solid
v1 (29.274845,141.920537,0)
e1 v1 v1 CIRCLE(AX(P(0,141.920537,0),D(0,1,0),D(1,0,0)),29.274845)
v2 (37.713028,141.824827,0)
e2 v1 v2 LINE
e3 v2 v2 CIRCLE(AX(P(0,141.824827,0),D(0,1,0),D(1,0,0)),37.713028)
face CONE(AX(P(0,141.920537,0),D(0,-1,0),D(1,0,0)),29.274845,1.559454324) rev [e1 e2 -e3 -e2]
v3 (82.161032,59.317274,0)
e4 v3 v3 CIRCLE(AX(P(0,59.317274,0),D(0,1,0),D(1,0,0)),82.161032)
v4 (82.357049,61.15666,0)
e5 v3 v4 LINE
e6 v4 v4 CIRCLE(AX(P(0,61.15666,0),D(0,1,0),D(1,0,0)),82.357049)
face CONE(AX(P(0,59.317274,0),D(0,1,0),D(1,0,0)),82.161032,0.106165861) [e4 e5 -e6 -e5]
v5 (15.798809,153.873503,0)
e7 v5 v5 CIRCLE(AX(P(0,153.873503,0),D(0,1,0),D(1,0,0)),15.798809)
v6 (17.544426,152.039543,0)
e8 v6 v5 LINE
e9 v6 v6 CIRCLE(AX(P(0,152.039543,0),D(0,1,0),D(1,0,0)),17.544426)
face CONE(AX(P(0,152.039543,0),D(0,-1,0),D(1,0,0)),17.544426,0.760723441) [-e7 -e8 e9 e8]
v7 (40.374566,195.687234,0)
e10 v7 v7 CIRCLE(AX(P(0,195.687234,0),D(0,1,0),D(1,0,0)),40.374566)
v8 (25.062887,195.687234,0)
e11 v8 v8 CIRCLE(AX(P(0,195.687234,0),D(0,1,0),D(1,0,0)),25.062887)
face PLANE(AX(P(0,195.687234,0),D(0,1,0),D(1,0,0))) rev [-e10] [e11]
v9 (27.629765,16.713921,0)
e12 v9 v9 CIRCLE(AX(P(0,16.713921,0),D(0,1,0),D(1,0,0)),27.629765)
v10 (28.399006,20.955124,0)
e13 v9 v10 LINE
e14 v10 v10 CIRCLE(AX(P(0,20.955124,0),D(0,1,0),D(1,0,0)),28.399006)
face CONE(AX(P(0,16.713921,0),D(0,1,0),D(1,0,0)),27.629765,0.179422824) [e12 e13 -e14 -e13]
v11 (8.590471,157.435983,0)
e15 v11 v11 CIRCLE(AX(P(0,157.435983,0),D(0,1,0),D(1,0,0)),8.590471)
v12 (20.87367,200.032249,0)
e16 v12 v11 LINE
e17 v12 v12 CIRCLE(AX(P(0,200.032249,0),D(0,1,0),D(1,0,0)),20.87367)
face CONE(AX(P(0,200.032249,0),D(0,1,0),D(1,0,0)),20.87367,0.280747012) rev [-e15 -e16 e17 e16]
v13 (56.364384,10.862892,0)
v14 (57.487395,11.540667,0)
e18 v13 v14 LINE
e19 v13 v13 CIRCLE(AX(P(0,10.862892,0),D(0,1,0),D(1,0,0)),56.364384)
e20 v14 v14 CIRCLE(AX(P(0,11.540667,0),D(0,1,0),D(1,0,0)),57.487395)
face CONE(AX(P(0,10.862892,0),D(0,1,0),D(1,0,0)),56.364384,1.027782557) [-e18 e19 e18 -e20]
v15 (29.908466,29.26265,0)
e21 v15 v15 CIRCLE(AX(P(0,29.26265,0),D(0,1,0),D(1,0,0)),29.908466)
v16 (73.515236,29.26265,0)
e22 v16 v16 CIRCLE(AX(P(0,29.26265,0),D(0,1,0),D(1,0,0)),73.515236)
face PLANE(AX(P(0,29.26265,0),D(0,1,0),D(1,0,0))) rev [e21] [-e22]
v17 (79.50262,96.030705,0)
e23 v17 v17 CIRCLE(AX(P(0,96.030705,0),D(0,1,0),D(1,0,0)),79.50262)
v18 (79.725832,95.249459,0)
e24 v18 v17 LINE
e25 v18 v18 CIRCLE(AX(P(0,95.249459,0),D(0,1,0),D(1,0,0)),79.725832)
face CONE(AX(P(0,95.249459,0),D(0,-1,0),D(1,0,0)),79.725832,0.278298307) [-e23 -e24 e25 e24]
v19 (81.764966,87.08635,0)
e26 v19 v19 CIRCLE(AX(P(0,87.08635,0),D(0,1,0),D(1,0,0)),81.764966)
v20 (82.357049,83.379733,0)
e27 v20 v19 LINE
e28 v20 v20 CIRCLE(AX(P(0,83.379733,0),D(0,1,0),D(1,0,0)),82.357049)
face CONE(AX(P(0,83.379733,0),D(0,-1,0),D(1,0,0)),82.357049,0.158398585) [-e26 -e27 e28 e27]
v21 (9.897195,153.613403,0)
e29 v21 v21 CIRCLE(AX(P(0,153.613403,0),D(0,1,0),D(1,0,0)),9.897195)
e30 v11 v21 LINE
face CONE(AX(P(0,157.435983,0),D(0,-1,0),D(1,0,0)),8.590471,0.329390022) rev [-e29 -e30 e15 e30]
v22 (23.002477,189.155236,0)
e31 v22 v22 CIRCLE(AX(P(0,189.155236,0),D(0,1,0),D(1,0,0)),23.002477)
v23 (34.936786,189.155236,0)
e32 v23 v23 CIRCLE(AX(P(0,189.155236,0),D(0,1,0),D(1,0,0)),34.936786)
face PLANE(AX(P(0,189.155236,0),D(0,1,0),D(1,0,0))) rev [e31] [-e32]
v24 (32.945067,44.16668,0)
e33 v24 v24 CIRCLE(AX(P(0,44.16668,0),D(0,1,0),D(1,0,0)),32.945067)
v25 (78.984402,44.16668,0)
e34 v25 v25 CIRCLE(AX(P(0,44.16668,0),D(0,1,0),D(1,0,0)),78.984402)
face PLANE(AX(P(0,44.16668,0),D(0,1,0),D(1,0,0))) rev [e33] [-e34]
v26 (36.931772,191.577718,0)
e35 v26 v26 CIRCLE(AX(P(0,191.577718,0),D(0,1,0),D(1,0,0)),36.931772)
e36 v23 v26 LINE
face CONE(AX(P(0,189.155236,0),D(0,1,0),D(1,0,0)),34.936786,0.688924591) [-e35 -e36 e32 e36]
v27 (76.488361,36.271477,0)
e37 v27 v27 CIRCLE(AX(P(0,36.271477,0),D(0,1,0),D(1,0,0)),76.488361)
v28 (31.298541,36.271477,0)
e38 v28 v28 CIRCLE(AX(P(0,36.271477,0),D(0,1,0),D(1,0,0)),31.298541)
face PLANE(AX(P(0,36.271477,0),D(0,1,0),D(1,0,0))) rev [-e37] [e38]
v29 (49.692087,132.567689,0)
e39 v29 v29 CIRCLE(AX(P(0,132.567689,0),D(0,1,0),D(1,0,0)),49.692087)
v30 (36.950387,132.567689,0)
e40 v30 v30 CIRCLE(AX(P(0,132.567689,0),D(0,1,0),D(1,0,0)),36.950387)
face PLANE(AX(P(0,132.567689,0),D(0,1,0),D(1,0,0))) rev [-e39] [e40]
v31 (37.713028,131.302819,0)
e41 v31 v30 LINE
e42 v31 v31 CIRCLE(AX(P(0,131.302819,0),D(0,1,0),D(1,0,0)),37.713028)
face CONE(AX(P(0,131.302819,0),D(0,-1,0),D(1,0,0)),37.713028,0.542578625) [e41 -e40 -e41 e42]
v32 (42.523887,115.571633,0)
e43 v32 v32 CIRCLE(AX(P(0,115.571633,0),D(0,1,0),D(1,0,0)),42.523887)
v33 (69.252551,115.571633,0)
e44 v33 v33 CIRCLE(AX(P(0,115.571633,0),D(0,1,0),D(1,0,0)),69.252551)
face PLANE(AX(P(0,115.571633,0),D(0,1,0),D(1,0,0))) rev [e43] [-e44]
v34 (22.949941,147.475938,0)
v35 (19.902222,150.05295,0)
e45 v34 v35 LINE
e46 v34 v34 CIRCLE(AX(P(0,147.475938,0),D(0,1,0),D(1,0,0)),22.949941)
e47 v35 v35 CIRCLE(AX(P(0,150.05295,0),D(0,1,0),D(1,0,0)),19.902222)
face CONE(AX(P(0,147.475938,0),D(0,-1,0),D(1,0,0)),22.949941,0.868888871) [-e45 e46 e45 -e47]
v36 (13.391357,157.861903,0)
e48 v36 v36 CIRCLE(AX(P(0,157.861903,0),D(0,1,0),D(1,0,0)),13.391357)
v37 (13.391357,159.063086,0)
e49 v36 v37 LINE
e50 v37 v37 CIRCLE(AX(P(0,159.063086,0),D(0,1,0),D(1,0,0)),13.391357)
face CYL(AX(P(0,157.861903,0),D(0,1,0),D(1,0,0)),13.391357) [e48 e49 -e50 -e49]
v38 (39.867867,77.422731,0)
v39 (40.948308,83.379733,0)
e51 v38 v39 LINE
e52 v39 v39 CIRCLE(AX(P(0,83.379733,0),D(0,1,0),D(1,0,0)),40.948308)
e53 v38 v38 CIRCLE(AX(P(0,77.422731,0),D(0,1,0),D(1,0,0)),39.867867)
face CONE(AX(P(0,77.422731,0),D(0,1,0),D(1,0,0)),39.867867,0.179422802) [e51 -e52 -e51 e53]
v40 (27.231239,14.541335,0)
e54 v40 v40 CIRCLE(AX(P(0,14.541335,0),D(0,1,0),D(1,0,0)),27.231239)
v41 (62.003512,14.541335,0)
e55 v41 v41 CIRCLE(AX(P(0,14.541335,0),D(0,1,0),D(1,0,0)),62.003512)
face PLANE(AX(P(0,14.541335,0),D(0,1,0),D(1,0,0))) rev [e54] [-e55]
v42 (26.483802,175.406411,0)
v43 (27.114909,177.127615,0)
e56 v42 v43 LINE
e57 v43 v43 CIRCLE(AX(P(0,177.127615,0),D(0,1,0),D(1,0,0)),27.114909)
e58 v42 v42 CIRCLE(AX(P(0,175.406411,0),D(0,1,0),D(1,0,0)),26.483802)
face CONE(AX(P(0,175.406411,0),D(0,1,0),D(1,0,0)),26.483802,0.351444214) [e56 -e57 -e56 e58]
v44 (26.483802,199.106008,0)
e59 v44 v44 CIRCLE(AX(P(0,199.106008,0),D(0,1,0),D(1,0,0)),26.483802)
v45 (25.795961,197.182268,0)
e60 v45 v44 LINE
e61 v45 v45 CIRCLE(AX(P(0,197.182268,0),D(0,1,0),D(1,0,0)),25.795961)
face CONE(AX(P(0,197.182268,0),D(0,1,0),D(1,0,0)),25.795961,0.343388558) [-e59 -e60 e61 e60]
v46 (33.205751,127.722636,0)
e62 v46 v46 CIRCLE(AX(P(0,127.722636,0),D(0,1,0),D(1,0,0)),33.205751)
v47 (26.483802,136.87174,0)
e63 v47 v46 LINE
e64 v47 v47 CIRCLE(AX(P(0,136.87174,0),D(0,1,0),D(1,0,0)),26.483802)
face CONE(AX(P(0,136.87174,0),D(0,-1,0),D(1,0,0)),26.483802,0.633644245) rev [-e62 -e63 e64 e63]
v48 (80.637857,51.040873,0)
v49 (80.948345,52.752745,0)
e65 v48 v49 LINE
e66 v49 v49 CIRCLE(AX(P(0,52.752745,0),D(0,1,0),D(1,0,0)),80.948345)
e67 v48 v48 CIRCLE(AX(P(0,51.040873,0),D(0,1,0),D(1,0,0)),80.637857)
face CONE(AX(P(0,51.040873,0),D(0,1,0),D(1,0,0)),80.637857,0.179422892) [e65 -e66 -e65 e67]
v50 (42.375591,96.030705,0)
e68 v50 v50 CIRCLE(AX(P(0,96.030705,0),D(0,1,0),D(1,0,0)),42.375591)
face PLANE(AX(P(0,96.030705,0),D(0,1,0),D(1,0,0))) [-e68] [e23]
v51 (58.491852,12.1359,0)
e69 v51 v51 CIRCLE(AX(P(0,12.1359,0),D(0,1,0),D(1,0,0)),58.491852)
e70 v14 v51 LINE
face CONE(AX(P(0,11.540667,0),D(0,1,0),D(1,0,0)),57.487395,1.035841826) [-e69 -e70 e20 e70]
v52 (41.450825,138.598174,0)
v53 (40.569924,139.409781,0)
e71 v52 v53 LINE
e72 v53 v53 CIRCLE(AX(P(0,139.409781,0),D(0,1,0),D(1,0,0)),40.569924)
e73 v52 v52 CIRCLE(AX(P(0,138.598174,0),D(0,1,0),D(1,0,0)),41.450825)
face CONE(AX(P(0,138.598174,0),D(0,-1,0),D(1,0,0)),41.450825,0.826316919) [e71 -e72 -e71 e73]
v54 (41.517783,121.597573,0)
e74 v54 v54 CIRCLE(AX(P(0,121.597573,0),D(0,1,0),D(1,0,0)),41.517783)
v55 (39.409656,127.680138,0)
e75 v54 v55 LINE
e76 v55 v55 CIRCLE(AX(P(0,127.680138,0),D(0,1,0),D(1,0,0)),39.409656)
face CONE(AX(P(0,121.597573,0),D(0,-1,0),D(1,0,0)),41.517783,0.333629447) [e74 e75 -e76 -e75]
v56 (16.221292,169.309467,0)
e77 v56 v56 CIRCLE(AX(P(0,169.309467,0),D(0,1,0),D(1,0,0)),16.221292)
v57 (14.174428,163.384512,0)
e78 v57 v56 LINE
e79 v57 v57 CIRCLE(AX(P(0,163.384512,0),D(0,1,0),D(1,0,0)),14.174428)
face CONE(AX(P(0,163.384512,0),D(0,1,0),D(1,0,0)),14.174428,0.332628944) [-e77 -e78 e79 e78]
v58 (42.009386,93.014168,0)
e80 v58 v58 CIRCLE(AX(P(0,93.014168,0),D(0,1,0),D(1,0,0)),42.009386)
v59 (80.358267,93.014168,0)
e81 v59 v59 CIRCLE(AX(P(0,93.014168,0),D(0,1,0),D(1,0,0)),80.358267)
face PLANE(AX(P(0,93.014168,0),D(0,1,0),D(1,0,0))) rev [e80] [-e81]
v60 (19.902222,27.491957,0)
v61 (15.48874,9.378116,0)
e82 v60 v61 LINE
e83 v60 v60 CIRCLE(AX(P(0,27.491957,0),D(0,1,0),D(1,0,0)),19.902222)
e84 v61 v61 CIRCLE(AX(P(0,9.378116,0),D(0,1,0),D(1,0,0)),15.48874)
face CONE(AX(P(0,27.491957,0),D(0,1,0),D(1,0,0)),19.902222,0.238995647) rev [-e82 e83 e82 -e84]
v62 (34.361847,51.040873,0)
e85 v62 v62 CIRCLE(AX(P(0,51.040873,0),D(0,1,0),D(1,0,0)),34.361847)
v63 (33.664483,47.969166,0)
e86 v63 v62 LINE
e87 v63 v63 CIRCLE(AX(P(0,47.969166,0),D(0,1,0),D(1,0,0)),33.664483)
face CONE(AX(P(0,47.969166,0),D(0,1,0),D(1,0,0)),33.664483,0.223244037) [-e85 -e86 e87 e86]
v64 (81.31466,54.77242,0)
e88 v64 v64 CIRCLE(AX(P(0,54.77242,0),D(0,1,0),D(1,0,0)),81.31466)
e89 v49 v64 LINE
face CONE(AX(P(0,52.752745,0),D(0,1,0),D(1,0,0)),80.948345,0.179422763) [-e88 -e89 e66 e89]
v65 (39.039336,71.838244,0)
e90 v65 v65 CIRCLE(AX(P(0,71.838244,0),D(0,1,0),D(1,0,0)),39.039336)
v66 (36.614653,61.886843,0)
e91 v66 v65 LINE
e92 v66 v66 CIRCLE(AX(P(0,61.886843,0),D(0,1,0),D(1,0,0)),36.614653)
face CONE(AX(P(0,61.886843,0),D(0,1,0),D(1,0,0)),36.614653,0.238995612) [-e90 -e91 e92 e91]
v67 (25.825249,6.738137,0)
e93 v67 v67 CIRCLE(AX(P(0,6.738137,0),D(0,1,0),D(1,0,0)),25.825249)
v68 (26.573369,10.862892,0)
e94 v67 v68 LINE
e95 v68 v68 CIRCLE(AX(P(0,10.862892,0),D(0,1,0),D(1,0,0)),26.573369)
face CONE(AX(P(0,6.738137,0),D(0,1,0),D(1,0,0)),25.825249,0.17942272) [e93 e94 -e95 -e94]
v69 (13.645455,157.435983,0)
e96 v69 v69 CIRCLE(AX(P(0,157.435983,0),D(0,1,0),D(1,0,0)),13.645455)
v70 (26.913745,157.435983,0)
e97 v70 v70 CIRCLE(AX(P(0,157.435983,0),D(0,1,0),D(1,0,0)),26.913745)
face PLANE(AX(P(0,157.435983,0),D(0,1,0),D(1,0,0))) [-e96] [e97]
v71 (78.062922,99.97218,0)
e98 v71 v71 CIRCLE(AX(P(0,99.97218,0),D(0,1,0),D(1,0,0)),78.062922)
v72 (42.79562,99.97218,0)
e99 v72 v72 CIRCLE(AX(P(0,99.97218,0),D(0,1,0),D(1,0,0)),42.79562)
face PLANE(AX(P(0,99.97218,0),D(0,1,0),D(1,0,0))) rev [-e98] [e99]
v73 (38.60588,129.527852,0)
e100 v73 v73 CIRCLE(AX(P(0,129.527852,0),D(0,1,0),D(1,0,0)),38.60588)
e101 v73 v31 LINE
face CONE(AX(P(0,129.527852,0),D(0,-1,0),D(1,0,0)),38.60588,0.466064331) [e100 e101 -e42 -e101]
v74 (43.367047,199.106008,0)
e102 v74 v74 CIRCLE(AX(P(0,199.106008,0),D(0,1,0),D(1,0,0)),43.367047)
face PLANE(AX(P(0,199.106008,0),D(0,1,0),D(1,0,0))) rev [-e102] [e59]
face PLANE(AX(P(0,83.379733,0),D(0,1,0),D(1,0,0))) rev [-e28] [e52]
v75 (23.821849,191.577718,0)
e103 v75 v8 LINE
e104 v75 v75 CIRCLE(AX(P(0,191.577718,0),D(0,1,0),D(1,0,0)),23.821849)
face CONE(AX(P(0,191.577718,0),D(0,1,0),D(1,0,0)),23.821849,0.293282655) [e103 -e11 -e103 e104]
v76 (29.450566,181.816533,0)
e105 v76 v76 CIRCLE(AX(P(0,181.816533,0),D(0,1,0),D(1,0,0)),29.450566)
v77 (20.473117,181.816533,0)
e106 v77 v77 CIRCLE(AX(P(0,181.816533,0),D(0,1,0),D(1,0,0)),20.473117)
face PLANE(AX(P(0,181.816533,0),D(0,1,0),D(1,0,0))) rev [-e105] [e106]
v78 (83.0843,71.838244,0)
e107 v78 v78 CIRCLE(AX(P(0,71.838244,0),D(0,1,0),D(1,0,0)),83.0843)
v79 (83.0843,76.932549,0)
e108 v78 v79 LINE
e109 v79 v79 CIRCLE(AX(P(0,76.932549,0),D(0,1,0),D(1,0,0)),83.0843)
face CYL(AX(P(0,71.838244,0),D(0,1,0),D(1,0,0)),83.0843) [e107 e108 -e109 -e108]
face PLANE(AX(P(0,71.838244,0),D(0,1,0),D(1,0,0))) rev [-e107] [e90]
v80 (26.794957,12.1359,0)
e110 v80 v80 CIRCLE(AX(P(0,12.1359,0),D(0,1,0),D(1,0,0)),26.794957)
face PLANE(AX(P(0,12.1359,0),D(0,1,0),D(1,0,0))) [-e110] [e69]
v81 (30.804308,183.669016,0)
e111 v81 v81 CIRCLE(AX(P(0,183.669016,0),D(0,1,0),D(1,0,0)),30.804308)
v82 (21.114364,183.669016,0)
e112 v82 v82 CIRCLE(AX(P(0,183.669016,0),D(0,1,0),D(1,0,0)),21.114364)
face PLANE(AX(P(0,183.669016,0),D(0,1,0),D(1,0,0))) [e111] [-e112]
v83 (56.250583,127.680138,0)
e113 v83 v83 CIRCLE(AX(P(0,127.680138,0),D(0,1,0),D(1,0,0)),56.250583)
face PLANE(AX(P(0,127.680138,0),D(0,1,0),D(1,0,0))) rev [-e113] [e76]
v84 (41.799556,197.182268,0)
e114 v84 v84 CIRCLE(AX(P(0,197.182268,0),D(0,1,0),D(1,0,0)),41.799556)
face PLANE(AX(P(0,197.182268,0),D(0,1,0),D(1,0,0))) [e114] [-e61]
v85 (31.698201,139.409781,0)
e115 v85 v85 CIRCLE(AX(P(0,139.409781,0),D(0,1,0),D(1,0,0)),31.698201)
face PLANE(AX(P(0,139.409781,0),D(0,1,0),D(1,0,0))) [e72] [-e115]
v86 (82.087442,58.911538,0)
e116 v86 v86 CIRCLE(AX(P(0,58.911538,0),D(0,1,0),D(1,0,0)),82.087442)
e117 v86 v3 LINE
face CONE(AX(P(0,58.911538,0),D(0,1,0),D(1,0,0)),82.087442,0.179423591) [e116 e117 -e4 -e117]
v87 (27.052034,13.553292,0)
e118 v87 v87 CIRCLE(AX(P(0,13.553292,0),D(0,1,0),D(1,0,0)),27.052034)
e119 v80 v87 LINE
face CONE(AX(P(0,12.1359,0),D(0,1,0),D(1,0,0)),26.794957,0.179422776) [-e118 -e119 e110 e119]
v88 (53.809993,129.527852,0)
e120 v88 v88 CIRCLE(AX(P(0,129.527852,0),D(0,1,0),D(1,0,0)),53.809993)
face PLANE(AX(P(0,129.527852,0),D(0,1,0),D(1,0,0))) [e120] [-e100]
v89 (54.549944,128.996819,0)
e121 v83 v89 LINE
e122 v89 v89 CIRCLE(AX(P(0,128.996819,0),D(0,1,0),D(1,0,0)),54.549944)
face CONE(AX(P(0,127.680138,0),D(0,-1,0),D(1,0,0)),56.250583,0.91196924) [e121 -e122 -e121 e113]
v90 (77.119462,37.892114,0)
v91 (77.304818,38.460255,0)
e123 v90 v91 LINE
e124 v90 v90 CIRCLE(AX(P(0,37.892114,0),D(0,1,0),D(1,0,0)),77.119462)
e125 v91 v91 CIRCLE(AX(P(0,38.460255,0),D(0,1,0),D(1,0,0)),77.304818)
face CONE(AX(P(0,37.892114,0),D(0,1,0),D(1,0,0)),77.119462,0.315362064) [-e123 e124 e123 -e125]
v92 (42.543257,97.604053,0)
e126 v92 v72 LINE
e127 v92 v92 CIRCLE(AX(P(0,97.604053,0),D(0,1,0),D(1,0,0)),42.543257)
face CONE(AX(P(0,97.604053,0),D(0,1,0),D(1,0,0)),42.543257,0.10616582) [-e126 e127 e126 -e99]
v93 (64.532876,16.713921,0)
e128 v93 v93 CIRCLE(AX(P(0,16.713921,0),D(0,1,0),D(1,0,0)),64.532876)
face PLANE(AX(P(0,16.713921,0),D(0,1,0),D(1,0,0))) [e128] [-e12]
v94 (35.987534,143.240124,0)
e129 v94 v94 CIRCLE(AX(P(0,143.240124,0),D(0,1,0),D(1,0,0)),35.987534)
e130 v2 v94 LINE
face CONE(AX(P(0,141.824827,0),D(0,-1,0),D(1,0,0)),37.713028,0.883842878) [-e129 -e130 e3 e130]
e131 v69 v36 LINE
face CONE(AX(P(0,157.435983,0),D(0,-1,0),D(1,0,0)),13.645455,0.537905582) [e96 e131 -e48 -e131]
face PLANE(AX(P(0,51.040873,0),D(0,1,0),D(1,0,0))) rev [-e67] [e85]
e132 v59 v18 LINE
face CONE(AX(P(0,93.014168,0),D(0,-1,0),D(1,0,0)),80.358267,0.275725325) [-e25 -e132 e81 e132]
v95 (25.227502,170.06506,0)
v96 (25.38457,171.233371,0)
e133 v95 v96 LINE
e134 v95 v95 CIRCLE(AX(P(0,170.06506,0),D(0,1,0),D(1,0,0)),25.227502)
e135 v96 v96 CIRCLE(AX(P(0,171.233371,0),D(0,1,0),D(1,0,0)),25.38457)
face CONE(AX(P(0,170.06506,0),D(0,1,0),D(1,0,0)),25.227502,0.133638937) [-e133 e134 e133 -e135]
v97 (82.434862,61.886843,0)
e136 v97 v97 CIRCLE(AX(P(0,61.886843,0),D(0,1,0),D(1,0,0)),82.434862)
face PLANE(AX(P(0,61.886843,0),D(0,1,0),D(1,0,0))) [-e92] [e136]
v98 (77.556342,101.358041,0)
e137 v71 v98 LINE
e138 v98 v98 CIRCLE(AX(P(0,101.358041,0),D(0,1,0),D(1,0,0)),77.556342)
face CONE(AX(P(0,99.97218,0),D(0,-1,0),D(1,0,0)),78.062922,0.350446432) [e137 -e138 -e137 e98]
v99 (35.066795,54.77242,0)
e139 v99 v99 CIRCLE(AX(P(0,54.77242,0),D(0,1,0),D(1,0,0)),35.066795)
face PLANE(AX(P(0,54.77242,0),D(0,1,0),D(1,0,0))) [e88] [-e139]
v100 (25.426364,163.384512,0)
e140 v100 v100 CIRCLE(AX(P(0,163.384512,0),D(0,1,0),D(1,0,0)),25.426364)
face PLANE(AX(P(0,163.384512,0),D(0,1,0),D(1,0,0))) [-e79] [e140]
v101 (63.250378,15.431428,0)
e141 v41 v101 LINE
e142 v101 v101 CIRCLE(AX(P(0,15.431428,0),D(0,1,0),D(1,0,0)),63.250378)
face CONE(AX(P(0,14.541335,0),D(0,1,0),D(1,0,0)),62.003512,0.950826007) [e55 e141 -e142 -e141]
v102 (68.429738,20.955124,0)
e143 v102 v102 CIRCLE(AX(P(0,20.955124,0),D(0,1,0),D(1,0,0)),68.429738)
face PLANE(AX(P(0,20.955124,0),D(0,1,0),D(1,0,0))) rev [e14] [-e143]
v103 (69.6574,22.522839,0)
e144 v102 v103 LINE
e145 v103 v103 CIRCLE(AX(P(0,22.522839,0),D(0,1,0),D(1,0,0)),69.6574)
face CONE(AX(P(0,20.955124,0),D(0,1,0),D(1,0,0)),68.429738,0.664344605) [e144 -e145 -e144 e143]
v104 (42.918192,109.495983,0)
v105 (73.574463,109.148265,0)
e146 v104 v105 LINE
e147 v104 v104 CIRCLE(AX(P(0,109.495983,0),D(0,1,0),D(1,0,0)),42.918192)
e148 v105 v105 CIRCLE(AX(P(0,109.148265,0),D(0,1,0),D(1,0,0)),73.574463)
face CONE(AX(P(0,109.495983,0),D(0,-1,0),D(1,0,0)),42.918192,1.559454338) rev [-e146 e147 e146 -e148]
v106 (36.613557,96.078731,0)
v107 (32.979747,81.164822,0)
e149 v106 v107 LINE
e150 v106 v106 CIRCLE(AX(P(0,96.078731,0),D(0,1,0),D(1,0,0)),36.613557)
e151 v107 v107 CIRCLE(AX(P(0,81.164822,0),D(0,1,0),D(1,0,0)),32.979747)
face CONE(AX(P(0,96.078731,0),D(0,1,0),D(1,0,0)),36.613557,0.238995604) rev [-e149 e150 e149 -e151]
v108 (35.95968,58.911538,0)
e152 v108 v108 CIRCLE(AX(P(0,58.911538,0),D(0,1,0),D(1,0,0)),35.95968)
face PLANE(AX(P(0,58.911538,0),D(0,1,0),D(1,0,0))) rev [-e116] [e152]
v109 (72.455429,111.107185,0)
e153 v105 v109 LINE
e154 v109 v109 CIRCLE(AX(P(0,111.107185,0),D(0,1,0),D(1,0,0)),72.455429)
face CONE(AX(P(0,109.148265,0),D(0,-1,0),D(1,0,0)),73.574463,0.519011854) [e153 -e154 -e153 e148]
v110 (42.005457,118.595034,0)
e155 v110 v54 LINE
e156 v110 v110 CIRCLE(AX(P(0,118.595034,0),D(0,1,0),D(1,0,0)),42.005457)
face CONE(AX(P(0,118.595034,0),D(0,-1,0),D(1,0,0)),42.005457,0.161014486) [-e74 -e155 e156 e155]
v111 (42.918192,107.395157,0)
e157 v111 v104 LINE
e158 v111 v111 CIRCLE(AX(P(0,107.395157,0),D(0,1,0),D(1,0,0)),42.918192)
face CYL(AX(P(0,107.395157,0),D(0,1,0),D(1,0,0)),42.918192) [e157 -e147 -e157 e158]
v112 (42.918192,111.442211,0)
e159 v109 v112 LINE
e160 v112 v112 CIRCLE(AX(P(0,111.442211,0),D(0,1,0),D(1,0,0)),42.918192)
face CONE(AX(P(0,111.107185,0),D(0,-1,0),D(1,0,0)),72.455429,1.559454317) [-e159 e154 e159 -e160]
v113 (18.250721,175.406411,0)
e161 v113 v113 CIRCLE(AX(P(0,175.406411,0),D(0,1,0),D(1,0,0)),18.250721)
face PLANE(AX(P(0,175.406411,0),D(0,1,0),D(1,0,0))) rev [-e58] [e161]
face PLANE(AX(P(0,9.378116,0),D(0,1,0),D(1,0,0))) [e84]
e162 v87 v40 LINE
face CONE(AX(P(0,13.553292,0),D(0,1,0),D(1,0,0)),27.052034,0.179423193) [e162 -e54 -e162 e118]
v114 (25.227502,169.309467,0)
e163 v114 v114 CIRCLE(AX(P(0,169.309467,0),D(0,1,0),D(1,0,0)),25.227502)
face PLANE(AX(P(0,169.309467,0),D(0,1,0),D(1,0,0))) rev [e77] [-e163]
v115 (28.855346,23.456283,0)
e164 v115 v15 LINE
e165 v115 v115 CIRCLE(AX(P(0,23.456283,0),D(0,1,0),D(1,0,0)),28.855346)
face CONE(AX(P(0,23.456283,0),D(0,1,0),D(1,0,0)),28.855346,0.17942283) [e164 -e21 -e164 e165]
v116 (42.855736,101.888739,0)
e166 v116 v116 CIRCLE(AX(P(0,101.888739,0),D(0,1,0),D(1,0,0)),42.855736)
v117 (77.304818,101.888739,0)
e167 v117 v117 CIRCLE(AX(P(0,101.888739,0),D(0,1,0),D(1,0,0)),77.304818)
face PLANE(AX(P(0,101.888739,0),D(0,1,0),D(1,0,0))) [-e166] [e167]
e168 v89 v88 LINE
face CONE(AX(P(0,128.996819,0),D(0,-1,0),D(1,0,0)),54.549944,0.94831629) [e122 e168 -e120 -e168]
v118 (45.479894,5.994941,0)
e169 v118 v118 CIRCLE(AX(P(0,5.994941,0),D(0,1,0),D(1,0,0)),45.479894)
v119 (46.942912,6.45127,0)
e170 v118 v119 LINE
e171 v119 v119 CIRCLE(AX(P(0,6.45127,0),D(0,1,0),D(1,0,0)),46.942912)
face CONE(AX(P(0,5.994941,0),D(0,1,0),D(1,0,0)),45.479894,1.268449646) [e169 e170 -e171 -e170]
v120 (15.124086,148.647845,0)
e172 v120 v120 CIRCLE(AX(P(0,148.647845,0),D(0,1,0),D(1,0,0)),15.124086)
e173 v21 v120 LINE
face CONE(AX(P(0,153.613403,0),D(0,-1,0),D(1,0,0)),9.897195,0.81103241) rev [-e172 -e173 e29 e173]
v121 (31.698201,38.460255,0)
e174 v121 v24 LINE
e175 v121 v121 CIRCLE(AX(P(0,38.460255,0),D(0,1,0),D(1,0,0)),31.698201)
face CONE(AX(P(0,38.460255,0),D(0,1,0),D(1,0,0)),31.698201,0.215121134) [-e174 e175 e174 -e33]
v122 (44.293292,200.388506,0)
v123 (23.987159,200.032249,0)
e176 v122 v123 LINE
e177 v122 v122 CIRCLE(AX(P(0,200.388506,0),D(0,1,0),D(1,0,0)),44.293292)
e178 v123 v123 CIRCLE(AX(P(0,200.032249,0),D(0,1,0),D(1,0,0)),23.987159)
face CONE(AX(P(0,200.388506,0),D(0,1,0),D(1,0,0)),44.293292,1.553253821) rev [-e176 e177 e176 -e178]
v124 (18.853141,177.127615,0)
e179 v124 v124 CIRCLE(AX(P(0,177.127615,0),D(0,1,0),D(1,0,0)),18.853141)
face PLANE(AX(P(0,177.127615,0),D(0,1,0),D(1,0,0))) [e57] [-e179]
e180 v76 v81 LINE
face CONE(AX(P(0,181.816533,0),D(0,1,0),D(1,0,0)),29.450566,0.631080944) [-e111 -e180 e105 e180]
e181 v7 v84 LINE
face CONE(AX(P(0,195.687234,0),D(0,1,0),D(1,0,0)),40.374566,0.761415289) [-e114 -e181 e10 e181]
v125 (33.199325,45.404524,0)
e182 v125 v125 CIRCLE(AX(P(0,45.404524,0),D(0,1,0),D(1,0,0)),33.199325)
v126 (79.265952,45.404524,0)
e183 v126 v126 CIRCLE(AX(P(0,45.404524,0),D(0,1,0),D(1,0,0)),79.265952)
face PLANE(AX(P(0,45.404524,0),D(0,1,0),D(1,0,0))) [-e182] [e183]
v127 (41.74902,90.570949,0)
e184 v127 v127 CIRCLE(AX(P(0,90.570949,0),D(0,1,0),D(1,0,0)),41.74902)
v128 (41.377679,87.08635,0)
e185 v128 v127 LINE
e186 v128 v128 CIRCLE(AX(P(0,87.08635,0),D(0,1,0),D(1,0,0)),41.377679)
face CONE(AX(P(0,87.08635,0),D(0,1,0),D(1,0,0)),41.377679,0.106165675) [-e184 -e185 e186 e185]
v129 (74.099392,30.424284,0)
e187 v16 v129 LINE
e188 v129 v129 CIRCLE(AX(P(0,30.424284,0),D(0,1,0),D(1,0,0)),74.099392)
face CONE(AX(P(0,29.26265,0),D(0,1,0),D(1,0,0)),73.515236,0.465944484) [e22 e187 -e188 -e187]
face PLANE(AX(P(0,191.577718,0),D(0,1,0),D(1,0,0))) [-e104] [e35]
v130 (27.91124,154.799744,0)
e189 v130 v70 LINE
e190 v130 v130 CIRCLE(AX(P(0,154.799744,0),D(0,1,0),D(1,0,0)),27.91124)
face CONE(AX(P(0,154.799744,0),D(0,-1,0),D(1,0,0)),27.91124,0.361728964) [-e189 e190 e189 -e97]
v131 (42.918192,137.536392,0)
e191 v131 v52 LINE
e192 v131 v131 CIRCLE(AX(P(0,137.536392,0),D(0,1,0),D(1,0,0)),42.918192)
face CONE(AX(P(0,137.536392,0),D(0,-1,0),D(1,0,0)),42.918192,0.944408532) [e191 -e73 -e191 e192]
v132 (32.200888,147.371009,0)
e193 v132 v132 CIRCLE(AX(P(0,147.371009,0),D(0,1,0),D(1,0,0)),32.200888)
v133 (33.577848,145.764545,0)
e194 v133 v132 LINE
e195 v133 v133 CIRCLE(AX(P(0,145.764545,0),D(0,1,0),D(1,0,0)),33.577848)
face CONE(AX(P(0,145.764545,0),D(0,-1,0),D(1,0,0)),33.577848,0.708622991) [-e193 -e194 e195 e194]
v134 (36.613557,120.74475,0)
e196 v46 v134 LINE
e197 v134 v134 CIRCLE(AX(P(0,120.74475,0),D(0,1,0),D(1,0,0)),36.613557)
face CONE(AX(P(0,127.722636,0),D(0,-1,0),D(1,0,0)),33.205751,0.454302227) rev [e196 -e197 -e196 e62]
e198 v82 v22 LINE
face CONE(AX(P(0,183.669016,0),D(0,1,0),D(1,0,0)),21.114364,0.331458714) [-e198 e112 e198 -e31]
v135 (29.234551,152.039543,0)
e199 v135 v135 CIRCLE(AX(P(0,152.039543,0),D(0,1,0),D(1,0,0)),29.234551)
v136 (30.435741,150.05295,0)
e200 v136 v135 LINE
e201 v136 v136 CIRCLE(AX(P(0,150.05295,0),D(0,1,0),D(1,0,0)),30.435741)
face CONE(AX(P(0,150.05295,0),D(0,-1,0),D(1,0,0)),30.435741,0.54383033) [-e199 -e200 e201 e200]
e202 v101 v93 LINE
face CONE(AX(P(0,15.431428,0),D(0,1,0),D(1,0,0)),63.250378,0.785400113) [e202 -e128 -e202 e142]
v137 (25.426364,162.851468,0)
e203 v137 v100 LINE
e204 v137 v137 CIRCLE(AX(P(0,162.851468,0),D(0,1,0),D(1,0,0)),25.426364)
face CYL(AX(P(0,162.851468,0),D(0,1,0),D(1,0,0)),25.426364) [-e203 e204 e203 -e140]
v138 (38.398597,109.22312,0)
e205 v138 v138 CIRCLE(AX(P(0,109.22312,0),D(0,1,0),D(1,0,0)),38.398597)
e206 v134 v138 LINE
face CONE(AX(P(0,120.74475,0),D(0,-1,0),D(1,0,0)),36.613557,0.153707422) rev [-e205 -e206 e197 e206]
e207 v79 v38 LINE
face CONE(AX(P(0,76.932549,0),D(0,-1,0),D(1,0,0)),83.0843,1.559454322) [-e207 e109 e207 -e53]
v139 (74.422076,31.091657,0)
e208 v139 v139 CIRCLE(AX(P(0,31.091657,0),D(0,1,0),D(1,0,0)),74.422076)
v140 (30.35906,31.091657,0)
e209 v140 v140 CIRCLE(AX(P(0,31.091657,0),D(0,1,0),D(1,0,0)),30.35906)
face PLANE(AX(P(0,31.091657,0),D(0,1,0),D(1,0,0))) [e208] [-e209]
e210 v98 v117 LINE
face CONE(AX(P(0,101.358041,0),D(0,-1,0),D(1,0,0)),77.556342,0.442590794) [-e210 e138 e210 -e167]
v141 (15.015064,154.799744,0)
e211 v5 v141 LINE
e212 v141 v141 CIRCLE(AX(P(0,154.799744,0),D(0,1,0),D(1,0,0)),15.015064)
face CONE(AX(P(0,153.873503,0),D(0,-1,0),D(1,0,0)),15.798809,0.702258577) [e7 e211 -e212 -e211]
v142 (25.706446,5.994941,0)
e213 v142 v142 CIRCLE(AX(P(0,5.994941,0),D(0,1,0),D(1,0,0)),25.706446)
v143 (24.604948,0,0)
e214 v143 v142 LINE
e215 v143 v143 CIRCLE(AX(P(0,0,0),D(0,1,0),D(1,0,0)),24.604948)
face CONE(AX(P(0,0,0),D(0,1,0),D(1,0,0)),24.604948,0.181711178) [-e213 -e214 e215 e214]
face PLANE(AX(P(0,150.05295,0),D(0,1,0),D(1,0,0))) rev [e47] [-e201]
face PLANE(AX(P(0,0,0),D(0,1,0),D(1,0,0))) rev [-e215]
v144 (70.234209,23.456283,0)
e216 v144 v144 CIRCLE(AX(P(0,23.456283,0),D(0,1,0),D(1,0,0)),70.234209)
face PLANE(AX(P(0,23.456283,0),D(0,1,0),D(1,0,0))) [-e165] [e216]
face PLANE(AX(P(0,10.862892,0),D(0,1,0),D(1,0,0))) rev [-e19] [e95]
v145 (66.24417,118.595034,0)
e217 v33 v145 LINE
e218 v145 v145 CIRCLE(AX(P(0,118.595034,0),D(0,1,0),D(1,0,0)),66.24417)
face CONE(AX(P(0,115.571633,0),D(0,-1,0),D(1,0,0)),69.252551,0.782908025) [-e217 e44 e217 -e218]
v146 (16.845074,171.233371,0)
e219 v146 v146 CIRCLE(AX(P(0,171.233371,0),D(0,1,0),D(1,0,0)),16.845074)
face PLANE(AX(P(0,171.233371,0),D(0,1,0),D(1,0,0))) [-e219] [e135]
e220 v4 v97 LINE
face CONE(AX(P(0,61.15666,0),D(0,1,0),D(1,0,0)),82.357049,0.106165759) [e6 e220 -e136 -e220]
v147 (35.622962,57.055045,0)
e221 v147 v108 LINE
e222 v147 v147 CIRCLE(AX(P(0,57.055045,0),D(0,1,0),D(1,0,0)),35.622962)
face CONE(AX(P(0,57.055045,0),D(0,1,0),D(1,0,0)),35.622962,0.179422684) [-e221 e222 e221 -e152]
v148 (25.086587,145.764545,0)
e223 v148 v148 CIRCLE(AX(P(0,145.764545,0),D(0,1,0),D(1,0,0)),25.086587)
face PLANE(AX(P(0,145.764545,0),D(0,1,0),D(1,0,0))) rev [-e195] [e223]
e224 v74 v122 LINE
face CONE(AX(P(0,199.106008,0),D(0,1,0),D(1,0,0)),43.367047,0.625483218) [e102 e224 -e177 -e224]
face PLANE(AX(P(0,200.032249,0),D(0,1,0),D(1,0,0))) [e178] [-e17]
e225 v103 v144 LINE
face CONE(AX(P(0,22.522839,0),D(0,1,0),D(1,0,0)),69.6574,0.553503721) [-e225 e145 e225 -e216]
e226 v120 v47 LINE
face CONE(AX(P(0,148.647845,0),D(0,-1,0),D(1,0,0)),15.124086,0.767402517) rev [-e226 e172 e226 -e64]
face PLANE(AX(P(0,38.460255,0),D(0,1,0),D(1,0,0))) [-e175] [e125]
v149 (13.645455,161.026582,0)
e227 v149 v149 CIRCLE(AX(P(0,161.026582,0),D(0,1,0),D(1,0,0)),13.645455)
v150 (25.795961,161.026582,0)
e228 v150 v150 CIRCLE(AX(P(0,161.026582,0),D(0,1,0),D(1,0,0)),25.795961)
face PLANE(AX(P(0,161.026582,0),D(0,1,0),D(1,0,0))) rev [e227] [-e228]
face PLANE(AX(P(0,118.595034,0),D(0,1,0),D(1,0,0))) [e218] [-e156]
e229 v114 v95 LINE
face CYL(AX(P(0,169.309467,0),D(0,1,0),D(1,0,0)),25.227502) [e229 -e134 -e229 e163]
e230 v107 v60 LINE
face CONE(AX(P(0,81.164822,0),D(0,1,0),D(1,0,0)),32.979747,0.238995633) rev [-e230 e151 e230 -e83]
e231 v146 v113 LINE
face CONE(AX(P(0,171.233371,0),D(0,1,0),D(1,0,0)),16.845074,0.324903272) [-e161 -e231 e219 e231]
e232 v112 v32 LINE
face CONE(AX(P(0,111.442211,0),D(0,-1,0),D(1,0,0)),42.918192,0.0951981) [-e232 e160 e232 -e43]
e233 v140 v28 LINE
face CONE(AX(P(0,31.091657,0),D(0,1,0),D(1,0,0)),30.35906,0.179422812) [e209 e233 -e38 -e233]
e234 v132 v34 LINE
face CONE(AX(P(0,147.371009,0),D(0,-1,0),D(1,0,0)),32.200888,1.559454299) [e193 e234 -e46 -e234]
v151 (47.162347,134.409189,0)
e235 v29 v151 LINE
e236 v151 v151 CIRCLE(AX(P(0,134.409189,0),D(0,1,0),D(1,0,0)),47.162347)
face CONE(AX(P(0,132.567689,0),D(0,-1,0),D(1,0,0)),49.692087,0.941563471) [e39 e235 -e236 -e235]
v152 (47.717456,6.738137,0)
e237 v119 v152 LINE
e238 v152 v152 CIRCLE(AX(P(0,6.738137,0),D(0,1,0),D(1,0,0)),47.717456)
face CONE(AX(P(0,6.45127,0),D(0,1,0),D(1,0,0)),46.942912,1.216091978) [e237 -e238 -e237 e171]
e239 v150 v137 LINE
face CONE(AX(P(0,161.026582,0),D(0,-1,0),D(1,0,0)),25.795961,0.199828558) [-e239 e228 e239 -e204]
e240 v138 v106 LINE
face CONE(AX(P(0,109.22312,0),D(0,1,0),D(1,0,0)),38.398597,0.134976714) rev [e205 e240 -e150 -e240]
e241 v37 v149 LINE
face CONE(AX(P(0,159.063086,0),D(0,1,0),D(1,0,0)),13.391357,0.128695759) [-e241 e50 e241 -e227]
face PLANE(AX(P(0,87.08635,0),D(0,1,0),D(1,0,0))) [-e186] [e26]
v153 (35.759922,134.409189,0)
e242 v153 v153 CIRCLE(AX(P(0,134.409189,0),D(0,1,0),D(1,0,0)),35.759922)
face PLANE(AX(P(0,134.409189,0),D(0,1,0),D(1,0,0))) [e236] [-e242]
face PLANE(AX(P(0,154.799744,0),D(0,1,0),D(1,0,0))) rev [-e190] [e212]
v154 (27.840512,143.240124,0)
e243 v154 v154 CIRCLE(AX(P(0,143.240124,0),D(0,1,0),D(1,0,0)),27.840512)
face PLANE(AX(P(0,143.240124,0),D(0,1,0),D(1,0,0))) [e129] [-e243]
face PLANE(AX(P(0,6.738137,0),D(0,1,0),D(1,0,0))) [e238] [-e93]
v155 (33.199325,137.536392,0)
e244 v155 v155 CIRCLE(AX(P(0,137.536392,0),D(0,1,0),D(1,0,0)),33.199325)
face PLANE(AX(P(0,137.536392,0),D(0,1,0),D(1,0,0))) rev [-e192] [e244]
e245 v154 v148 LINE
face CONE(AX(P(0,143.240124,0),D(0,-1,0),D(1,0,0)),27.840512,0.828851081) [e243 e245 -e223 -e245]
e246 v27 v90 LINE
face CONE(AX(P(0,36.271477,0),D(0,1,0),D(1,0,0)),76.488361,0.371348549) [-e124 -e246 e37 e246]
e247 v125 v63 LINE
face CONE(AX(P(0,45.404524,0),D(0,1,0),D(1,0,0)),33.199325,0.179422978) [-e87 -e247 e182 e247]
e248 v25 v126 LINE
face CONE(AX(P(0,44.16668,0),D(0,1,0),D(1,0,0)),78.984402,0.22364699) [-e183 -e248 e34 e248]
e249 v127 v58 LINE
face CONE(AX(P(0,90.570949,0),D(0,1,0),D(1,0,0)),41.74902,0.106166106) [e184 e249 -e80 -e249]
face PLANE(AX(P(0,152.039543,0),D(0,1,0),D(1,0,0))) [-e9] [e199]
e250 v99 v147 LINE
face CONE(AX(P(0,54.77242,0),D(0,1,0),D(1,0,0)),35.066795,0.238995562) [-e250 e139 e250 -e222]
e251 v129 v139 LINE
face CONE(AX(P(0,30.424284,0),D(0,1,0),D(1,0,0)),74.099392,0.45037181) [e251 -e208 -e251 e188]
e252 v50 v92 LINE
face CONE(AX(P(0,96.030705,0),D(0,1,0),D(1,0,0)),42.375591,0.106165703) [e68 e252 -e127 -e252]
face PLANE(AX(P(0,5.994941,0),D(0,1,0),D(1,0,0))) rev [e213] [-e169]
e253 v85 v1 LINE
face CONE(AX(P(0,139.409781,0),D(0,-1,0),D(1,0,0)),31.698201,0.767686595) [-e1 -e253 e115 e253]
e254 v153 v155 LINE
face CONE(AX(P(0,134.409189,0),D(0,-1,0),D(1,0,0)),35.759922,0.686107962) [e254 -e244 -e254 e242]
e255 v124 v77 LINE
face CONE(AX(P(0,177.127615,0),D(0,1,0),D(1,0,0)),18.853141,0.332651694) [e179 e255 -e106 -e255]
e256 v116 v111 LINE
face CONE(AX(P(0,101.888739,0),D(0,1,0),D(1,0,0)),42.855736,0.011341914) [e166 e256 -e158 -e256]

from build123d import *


with BuildPart() as f2:
    # F0 (on Top) → F2 (revolve)
    with BuildSketch(Plane.XY):
        Polygon((0, 9.378116), (0, 0), (24.604948, 0), (25.706446, 5.994941), (45.479894, 5.994941), (46.942912, 6.45127), (47.717456, 6.738137), (25.825249, 6.738137), (26.573369, 10.862892), (56.364384, 10.862892), (57.487395, 11.540667), (58.491852, 12.1359), (26.794957, 12.1359), (27.052034, 13.553292), (27.231239, 14.541335), (62.003512, 14.541335), (63.250378, 15.431428), (64.532876, 16.713921), (27.629765, 16.713921), (28.399006, 20.955124), (68.429738, 20.955124), (69.6574, 22.522839), (70.234209, 23.456283), (28.855346, 23.456283), (29.908466, 29.26265), (73.515236, 29.26265), (74.099392, 30.424284), (74.422076, 31.091657), (30.35906, 31.091657), (31.298541, 36.271477), (76.488361, 36.271477), (77.119462, 37.892114), (77.304818, 38.460255), (31.698201, 38.460255), (32.945067, 44.16668), (78.984402, 44.16668), (79.265952, 45.404524), (33.199325, 45.404524), (33.664483, 47.969166), (34.361847, 51.040873), (80.637857, 51.040873), (80.948345, 52.752745), (81.31466, 54.77242), (35.066795, 54.77242), (35.622962, 57.055045), (35.95968, 58.911538), (82.087442, 58.911538), (82.161032, 59.317274), (82.357049, 61.15666), (82.434862, 61.886843), (36.614653, 61.886843), (39.039336, 71.838244), (83.0843, 71.838244), (83.0843, 75.516842), (83.0843, 76.932549), (39.867867, 77.422731), (40.948308, 83.379733), (82.357049, 83.379733), (81.764966, 87.08635), (41.377679, 87.08635), (41.74902, 90.570949), (42.009386, 93.014168), (80.358267, 93.014168), (79.725832, 95.249459), (79.50262, 96.030705), (42.375591, 96.030705), (42.543257, 97.604053), (42.79562, 99.97218), (78.062922, 99.97218), (77.556342, 101.358041), (77.304818, 101.888739), (42.855736, 101.888739), (42.918192, 107.395157), (42.918192, 109.495983), (73.574463, 109.148265), (72.455429, 111.107185), (42.918192, 111.442211), (42.523887, 115.571633), (69.252551, 115.571633), (66.24417, 118.595034), (42.005457, 118.595034), (41.517783, 121.597573), (39.409656, 127.680138), (56.250583, 127.680138), (54.549944, 128.996819), (53.809993, 129.527852), (38.60588, 129.527852), (37.713028, 131.302819), (36.950387, 132.567689), (49.692087, 132.567689), (47.162347, 134.409189), (35.759922, 134.409189), (33.199325, 137.536392), (42.918192, 137.536392), (41.450825, 138.598174), (40.569924, 139.409781), (31.698201, 139.409781), (29.274845, 141.920537), (37.713028, 141.824827), (35.987534, 143.240124), (27.840512, 143.240124), (25.086587, 145.764545), (33.577848, 145.764545), (32.200888, 147.371009), (22.949941, 147.475938), (19.902222, 150.05295), (30.435741, 150.05295), (29.234551, 152.039543), (17.544426, 152.039543), (15.798809, 153.873503), (15.015064, 154.799744), (27.91124, 154.799744), (26.913745, 157.435983), (13.645455, 157.435983), (13.391357, 157.861903), (13.391357, 159.063086), (13.645455, 161.026582), (25.795961, 161.026582), (25.426364, 162.851468), (25.426364, 163.384512), (14.174428, 163.384512), (16.221292, 169.309467), (25.227502, 169.309467), (25.227502, 170.06506), (25.38457, 171.233371), (16.845074, 171.233371), (18.250721, 175.406411), (26.483802, 175.406411), (27.114909, 177.127615), (18.853141, 177.127615), (20.473117, 181.816533), (29.450566, 181.816533), (30.804308, 183.669016), (21.114364, 183.669016), (23.002477, 189.155236), (34.936786, 189.155236), (36.931772, 191.577718), (23.821849, 191.577718), (25.062887, 195.687234), (40.374566, 195.687234), (41.799556, 197.182268), (25.795961, 197.182268), (26.483802, 199.106008), (43.367047, 199.106008), (44.293292, 200.388506), (23.987159, 200.032249), (20.87367, 200.032249), (8.590471, 157.435983), (9.897195, 153.613403), (15.124086, 148.647845), (26.483802, 136.87174), (33.205751, 127.722636), (36.613557, 120.74475), (38.398597, 109.22312), (36.613557, 96.078731), (32.979747, 81.164822), (19.902222, 27.491957), (15.48874, 9.378116), align=None)
    revolve(axis=Axis((0, 101.371743, 0), (0, 1, 0)))


solid = f2.part
